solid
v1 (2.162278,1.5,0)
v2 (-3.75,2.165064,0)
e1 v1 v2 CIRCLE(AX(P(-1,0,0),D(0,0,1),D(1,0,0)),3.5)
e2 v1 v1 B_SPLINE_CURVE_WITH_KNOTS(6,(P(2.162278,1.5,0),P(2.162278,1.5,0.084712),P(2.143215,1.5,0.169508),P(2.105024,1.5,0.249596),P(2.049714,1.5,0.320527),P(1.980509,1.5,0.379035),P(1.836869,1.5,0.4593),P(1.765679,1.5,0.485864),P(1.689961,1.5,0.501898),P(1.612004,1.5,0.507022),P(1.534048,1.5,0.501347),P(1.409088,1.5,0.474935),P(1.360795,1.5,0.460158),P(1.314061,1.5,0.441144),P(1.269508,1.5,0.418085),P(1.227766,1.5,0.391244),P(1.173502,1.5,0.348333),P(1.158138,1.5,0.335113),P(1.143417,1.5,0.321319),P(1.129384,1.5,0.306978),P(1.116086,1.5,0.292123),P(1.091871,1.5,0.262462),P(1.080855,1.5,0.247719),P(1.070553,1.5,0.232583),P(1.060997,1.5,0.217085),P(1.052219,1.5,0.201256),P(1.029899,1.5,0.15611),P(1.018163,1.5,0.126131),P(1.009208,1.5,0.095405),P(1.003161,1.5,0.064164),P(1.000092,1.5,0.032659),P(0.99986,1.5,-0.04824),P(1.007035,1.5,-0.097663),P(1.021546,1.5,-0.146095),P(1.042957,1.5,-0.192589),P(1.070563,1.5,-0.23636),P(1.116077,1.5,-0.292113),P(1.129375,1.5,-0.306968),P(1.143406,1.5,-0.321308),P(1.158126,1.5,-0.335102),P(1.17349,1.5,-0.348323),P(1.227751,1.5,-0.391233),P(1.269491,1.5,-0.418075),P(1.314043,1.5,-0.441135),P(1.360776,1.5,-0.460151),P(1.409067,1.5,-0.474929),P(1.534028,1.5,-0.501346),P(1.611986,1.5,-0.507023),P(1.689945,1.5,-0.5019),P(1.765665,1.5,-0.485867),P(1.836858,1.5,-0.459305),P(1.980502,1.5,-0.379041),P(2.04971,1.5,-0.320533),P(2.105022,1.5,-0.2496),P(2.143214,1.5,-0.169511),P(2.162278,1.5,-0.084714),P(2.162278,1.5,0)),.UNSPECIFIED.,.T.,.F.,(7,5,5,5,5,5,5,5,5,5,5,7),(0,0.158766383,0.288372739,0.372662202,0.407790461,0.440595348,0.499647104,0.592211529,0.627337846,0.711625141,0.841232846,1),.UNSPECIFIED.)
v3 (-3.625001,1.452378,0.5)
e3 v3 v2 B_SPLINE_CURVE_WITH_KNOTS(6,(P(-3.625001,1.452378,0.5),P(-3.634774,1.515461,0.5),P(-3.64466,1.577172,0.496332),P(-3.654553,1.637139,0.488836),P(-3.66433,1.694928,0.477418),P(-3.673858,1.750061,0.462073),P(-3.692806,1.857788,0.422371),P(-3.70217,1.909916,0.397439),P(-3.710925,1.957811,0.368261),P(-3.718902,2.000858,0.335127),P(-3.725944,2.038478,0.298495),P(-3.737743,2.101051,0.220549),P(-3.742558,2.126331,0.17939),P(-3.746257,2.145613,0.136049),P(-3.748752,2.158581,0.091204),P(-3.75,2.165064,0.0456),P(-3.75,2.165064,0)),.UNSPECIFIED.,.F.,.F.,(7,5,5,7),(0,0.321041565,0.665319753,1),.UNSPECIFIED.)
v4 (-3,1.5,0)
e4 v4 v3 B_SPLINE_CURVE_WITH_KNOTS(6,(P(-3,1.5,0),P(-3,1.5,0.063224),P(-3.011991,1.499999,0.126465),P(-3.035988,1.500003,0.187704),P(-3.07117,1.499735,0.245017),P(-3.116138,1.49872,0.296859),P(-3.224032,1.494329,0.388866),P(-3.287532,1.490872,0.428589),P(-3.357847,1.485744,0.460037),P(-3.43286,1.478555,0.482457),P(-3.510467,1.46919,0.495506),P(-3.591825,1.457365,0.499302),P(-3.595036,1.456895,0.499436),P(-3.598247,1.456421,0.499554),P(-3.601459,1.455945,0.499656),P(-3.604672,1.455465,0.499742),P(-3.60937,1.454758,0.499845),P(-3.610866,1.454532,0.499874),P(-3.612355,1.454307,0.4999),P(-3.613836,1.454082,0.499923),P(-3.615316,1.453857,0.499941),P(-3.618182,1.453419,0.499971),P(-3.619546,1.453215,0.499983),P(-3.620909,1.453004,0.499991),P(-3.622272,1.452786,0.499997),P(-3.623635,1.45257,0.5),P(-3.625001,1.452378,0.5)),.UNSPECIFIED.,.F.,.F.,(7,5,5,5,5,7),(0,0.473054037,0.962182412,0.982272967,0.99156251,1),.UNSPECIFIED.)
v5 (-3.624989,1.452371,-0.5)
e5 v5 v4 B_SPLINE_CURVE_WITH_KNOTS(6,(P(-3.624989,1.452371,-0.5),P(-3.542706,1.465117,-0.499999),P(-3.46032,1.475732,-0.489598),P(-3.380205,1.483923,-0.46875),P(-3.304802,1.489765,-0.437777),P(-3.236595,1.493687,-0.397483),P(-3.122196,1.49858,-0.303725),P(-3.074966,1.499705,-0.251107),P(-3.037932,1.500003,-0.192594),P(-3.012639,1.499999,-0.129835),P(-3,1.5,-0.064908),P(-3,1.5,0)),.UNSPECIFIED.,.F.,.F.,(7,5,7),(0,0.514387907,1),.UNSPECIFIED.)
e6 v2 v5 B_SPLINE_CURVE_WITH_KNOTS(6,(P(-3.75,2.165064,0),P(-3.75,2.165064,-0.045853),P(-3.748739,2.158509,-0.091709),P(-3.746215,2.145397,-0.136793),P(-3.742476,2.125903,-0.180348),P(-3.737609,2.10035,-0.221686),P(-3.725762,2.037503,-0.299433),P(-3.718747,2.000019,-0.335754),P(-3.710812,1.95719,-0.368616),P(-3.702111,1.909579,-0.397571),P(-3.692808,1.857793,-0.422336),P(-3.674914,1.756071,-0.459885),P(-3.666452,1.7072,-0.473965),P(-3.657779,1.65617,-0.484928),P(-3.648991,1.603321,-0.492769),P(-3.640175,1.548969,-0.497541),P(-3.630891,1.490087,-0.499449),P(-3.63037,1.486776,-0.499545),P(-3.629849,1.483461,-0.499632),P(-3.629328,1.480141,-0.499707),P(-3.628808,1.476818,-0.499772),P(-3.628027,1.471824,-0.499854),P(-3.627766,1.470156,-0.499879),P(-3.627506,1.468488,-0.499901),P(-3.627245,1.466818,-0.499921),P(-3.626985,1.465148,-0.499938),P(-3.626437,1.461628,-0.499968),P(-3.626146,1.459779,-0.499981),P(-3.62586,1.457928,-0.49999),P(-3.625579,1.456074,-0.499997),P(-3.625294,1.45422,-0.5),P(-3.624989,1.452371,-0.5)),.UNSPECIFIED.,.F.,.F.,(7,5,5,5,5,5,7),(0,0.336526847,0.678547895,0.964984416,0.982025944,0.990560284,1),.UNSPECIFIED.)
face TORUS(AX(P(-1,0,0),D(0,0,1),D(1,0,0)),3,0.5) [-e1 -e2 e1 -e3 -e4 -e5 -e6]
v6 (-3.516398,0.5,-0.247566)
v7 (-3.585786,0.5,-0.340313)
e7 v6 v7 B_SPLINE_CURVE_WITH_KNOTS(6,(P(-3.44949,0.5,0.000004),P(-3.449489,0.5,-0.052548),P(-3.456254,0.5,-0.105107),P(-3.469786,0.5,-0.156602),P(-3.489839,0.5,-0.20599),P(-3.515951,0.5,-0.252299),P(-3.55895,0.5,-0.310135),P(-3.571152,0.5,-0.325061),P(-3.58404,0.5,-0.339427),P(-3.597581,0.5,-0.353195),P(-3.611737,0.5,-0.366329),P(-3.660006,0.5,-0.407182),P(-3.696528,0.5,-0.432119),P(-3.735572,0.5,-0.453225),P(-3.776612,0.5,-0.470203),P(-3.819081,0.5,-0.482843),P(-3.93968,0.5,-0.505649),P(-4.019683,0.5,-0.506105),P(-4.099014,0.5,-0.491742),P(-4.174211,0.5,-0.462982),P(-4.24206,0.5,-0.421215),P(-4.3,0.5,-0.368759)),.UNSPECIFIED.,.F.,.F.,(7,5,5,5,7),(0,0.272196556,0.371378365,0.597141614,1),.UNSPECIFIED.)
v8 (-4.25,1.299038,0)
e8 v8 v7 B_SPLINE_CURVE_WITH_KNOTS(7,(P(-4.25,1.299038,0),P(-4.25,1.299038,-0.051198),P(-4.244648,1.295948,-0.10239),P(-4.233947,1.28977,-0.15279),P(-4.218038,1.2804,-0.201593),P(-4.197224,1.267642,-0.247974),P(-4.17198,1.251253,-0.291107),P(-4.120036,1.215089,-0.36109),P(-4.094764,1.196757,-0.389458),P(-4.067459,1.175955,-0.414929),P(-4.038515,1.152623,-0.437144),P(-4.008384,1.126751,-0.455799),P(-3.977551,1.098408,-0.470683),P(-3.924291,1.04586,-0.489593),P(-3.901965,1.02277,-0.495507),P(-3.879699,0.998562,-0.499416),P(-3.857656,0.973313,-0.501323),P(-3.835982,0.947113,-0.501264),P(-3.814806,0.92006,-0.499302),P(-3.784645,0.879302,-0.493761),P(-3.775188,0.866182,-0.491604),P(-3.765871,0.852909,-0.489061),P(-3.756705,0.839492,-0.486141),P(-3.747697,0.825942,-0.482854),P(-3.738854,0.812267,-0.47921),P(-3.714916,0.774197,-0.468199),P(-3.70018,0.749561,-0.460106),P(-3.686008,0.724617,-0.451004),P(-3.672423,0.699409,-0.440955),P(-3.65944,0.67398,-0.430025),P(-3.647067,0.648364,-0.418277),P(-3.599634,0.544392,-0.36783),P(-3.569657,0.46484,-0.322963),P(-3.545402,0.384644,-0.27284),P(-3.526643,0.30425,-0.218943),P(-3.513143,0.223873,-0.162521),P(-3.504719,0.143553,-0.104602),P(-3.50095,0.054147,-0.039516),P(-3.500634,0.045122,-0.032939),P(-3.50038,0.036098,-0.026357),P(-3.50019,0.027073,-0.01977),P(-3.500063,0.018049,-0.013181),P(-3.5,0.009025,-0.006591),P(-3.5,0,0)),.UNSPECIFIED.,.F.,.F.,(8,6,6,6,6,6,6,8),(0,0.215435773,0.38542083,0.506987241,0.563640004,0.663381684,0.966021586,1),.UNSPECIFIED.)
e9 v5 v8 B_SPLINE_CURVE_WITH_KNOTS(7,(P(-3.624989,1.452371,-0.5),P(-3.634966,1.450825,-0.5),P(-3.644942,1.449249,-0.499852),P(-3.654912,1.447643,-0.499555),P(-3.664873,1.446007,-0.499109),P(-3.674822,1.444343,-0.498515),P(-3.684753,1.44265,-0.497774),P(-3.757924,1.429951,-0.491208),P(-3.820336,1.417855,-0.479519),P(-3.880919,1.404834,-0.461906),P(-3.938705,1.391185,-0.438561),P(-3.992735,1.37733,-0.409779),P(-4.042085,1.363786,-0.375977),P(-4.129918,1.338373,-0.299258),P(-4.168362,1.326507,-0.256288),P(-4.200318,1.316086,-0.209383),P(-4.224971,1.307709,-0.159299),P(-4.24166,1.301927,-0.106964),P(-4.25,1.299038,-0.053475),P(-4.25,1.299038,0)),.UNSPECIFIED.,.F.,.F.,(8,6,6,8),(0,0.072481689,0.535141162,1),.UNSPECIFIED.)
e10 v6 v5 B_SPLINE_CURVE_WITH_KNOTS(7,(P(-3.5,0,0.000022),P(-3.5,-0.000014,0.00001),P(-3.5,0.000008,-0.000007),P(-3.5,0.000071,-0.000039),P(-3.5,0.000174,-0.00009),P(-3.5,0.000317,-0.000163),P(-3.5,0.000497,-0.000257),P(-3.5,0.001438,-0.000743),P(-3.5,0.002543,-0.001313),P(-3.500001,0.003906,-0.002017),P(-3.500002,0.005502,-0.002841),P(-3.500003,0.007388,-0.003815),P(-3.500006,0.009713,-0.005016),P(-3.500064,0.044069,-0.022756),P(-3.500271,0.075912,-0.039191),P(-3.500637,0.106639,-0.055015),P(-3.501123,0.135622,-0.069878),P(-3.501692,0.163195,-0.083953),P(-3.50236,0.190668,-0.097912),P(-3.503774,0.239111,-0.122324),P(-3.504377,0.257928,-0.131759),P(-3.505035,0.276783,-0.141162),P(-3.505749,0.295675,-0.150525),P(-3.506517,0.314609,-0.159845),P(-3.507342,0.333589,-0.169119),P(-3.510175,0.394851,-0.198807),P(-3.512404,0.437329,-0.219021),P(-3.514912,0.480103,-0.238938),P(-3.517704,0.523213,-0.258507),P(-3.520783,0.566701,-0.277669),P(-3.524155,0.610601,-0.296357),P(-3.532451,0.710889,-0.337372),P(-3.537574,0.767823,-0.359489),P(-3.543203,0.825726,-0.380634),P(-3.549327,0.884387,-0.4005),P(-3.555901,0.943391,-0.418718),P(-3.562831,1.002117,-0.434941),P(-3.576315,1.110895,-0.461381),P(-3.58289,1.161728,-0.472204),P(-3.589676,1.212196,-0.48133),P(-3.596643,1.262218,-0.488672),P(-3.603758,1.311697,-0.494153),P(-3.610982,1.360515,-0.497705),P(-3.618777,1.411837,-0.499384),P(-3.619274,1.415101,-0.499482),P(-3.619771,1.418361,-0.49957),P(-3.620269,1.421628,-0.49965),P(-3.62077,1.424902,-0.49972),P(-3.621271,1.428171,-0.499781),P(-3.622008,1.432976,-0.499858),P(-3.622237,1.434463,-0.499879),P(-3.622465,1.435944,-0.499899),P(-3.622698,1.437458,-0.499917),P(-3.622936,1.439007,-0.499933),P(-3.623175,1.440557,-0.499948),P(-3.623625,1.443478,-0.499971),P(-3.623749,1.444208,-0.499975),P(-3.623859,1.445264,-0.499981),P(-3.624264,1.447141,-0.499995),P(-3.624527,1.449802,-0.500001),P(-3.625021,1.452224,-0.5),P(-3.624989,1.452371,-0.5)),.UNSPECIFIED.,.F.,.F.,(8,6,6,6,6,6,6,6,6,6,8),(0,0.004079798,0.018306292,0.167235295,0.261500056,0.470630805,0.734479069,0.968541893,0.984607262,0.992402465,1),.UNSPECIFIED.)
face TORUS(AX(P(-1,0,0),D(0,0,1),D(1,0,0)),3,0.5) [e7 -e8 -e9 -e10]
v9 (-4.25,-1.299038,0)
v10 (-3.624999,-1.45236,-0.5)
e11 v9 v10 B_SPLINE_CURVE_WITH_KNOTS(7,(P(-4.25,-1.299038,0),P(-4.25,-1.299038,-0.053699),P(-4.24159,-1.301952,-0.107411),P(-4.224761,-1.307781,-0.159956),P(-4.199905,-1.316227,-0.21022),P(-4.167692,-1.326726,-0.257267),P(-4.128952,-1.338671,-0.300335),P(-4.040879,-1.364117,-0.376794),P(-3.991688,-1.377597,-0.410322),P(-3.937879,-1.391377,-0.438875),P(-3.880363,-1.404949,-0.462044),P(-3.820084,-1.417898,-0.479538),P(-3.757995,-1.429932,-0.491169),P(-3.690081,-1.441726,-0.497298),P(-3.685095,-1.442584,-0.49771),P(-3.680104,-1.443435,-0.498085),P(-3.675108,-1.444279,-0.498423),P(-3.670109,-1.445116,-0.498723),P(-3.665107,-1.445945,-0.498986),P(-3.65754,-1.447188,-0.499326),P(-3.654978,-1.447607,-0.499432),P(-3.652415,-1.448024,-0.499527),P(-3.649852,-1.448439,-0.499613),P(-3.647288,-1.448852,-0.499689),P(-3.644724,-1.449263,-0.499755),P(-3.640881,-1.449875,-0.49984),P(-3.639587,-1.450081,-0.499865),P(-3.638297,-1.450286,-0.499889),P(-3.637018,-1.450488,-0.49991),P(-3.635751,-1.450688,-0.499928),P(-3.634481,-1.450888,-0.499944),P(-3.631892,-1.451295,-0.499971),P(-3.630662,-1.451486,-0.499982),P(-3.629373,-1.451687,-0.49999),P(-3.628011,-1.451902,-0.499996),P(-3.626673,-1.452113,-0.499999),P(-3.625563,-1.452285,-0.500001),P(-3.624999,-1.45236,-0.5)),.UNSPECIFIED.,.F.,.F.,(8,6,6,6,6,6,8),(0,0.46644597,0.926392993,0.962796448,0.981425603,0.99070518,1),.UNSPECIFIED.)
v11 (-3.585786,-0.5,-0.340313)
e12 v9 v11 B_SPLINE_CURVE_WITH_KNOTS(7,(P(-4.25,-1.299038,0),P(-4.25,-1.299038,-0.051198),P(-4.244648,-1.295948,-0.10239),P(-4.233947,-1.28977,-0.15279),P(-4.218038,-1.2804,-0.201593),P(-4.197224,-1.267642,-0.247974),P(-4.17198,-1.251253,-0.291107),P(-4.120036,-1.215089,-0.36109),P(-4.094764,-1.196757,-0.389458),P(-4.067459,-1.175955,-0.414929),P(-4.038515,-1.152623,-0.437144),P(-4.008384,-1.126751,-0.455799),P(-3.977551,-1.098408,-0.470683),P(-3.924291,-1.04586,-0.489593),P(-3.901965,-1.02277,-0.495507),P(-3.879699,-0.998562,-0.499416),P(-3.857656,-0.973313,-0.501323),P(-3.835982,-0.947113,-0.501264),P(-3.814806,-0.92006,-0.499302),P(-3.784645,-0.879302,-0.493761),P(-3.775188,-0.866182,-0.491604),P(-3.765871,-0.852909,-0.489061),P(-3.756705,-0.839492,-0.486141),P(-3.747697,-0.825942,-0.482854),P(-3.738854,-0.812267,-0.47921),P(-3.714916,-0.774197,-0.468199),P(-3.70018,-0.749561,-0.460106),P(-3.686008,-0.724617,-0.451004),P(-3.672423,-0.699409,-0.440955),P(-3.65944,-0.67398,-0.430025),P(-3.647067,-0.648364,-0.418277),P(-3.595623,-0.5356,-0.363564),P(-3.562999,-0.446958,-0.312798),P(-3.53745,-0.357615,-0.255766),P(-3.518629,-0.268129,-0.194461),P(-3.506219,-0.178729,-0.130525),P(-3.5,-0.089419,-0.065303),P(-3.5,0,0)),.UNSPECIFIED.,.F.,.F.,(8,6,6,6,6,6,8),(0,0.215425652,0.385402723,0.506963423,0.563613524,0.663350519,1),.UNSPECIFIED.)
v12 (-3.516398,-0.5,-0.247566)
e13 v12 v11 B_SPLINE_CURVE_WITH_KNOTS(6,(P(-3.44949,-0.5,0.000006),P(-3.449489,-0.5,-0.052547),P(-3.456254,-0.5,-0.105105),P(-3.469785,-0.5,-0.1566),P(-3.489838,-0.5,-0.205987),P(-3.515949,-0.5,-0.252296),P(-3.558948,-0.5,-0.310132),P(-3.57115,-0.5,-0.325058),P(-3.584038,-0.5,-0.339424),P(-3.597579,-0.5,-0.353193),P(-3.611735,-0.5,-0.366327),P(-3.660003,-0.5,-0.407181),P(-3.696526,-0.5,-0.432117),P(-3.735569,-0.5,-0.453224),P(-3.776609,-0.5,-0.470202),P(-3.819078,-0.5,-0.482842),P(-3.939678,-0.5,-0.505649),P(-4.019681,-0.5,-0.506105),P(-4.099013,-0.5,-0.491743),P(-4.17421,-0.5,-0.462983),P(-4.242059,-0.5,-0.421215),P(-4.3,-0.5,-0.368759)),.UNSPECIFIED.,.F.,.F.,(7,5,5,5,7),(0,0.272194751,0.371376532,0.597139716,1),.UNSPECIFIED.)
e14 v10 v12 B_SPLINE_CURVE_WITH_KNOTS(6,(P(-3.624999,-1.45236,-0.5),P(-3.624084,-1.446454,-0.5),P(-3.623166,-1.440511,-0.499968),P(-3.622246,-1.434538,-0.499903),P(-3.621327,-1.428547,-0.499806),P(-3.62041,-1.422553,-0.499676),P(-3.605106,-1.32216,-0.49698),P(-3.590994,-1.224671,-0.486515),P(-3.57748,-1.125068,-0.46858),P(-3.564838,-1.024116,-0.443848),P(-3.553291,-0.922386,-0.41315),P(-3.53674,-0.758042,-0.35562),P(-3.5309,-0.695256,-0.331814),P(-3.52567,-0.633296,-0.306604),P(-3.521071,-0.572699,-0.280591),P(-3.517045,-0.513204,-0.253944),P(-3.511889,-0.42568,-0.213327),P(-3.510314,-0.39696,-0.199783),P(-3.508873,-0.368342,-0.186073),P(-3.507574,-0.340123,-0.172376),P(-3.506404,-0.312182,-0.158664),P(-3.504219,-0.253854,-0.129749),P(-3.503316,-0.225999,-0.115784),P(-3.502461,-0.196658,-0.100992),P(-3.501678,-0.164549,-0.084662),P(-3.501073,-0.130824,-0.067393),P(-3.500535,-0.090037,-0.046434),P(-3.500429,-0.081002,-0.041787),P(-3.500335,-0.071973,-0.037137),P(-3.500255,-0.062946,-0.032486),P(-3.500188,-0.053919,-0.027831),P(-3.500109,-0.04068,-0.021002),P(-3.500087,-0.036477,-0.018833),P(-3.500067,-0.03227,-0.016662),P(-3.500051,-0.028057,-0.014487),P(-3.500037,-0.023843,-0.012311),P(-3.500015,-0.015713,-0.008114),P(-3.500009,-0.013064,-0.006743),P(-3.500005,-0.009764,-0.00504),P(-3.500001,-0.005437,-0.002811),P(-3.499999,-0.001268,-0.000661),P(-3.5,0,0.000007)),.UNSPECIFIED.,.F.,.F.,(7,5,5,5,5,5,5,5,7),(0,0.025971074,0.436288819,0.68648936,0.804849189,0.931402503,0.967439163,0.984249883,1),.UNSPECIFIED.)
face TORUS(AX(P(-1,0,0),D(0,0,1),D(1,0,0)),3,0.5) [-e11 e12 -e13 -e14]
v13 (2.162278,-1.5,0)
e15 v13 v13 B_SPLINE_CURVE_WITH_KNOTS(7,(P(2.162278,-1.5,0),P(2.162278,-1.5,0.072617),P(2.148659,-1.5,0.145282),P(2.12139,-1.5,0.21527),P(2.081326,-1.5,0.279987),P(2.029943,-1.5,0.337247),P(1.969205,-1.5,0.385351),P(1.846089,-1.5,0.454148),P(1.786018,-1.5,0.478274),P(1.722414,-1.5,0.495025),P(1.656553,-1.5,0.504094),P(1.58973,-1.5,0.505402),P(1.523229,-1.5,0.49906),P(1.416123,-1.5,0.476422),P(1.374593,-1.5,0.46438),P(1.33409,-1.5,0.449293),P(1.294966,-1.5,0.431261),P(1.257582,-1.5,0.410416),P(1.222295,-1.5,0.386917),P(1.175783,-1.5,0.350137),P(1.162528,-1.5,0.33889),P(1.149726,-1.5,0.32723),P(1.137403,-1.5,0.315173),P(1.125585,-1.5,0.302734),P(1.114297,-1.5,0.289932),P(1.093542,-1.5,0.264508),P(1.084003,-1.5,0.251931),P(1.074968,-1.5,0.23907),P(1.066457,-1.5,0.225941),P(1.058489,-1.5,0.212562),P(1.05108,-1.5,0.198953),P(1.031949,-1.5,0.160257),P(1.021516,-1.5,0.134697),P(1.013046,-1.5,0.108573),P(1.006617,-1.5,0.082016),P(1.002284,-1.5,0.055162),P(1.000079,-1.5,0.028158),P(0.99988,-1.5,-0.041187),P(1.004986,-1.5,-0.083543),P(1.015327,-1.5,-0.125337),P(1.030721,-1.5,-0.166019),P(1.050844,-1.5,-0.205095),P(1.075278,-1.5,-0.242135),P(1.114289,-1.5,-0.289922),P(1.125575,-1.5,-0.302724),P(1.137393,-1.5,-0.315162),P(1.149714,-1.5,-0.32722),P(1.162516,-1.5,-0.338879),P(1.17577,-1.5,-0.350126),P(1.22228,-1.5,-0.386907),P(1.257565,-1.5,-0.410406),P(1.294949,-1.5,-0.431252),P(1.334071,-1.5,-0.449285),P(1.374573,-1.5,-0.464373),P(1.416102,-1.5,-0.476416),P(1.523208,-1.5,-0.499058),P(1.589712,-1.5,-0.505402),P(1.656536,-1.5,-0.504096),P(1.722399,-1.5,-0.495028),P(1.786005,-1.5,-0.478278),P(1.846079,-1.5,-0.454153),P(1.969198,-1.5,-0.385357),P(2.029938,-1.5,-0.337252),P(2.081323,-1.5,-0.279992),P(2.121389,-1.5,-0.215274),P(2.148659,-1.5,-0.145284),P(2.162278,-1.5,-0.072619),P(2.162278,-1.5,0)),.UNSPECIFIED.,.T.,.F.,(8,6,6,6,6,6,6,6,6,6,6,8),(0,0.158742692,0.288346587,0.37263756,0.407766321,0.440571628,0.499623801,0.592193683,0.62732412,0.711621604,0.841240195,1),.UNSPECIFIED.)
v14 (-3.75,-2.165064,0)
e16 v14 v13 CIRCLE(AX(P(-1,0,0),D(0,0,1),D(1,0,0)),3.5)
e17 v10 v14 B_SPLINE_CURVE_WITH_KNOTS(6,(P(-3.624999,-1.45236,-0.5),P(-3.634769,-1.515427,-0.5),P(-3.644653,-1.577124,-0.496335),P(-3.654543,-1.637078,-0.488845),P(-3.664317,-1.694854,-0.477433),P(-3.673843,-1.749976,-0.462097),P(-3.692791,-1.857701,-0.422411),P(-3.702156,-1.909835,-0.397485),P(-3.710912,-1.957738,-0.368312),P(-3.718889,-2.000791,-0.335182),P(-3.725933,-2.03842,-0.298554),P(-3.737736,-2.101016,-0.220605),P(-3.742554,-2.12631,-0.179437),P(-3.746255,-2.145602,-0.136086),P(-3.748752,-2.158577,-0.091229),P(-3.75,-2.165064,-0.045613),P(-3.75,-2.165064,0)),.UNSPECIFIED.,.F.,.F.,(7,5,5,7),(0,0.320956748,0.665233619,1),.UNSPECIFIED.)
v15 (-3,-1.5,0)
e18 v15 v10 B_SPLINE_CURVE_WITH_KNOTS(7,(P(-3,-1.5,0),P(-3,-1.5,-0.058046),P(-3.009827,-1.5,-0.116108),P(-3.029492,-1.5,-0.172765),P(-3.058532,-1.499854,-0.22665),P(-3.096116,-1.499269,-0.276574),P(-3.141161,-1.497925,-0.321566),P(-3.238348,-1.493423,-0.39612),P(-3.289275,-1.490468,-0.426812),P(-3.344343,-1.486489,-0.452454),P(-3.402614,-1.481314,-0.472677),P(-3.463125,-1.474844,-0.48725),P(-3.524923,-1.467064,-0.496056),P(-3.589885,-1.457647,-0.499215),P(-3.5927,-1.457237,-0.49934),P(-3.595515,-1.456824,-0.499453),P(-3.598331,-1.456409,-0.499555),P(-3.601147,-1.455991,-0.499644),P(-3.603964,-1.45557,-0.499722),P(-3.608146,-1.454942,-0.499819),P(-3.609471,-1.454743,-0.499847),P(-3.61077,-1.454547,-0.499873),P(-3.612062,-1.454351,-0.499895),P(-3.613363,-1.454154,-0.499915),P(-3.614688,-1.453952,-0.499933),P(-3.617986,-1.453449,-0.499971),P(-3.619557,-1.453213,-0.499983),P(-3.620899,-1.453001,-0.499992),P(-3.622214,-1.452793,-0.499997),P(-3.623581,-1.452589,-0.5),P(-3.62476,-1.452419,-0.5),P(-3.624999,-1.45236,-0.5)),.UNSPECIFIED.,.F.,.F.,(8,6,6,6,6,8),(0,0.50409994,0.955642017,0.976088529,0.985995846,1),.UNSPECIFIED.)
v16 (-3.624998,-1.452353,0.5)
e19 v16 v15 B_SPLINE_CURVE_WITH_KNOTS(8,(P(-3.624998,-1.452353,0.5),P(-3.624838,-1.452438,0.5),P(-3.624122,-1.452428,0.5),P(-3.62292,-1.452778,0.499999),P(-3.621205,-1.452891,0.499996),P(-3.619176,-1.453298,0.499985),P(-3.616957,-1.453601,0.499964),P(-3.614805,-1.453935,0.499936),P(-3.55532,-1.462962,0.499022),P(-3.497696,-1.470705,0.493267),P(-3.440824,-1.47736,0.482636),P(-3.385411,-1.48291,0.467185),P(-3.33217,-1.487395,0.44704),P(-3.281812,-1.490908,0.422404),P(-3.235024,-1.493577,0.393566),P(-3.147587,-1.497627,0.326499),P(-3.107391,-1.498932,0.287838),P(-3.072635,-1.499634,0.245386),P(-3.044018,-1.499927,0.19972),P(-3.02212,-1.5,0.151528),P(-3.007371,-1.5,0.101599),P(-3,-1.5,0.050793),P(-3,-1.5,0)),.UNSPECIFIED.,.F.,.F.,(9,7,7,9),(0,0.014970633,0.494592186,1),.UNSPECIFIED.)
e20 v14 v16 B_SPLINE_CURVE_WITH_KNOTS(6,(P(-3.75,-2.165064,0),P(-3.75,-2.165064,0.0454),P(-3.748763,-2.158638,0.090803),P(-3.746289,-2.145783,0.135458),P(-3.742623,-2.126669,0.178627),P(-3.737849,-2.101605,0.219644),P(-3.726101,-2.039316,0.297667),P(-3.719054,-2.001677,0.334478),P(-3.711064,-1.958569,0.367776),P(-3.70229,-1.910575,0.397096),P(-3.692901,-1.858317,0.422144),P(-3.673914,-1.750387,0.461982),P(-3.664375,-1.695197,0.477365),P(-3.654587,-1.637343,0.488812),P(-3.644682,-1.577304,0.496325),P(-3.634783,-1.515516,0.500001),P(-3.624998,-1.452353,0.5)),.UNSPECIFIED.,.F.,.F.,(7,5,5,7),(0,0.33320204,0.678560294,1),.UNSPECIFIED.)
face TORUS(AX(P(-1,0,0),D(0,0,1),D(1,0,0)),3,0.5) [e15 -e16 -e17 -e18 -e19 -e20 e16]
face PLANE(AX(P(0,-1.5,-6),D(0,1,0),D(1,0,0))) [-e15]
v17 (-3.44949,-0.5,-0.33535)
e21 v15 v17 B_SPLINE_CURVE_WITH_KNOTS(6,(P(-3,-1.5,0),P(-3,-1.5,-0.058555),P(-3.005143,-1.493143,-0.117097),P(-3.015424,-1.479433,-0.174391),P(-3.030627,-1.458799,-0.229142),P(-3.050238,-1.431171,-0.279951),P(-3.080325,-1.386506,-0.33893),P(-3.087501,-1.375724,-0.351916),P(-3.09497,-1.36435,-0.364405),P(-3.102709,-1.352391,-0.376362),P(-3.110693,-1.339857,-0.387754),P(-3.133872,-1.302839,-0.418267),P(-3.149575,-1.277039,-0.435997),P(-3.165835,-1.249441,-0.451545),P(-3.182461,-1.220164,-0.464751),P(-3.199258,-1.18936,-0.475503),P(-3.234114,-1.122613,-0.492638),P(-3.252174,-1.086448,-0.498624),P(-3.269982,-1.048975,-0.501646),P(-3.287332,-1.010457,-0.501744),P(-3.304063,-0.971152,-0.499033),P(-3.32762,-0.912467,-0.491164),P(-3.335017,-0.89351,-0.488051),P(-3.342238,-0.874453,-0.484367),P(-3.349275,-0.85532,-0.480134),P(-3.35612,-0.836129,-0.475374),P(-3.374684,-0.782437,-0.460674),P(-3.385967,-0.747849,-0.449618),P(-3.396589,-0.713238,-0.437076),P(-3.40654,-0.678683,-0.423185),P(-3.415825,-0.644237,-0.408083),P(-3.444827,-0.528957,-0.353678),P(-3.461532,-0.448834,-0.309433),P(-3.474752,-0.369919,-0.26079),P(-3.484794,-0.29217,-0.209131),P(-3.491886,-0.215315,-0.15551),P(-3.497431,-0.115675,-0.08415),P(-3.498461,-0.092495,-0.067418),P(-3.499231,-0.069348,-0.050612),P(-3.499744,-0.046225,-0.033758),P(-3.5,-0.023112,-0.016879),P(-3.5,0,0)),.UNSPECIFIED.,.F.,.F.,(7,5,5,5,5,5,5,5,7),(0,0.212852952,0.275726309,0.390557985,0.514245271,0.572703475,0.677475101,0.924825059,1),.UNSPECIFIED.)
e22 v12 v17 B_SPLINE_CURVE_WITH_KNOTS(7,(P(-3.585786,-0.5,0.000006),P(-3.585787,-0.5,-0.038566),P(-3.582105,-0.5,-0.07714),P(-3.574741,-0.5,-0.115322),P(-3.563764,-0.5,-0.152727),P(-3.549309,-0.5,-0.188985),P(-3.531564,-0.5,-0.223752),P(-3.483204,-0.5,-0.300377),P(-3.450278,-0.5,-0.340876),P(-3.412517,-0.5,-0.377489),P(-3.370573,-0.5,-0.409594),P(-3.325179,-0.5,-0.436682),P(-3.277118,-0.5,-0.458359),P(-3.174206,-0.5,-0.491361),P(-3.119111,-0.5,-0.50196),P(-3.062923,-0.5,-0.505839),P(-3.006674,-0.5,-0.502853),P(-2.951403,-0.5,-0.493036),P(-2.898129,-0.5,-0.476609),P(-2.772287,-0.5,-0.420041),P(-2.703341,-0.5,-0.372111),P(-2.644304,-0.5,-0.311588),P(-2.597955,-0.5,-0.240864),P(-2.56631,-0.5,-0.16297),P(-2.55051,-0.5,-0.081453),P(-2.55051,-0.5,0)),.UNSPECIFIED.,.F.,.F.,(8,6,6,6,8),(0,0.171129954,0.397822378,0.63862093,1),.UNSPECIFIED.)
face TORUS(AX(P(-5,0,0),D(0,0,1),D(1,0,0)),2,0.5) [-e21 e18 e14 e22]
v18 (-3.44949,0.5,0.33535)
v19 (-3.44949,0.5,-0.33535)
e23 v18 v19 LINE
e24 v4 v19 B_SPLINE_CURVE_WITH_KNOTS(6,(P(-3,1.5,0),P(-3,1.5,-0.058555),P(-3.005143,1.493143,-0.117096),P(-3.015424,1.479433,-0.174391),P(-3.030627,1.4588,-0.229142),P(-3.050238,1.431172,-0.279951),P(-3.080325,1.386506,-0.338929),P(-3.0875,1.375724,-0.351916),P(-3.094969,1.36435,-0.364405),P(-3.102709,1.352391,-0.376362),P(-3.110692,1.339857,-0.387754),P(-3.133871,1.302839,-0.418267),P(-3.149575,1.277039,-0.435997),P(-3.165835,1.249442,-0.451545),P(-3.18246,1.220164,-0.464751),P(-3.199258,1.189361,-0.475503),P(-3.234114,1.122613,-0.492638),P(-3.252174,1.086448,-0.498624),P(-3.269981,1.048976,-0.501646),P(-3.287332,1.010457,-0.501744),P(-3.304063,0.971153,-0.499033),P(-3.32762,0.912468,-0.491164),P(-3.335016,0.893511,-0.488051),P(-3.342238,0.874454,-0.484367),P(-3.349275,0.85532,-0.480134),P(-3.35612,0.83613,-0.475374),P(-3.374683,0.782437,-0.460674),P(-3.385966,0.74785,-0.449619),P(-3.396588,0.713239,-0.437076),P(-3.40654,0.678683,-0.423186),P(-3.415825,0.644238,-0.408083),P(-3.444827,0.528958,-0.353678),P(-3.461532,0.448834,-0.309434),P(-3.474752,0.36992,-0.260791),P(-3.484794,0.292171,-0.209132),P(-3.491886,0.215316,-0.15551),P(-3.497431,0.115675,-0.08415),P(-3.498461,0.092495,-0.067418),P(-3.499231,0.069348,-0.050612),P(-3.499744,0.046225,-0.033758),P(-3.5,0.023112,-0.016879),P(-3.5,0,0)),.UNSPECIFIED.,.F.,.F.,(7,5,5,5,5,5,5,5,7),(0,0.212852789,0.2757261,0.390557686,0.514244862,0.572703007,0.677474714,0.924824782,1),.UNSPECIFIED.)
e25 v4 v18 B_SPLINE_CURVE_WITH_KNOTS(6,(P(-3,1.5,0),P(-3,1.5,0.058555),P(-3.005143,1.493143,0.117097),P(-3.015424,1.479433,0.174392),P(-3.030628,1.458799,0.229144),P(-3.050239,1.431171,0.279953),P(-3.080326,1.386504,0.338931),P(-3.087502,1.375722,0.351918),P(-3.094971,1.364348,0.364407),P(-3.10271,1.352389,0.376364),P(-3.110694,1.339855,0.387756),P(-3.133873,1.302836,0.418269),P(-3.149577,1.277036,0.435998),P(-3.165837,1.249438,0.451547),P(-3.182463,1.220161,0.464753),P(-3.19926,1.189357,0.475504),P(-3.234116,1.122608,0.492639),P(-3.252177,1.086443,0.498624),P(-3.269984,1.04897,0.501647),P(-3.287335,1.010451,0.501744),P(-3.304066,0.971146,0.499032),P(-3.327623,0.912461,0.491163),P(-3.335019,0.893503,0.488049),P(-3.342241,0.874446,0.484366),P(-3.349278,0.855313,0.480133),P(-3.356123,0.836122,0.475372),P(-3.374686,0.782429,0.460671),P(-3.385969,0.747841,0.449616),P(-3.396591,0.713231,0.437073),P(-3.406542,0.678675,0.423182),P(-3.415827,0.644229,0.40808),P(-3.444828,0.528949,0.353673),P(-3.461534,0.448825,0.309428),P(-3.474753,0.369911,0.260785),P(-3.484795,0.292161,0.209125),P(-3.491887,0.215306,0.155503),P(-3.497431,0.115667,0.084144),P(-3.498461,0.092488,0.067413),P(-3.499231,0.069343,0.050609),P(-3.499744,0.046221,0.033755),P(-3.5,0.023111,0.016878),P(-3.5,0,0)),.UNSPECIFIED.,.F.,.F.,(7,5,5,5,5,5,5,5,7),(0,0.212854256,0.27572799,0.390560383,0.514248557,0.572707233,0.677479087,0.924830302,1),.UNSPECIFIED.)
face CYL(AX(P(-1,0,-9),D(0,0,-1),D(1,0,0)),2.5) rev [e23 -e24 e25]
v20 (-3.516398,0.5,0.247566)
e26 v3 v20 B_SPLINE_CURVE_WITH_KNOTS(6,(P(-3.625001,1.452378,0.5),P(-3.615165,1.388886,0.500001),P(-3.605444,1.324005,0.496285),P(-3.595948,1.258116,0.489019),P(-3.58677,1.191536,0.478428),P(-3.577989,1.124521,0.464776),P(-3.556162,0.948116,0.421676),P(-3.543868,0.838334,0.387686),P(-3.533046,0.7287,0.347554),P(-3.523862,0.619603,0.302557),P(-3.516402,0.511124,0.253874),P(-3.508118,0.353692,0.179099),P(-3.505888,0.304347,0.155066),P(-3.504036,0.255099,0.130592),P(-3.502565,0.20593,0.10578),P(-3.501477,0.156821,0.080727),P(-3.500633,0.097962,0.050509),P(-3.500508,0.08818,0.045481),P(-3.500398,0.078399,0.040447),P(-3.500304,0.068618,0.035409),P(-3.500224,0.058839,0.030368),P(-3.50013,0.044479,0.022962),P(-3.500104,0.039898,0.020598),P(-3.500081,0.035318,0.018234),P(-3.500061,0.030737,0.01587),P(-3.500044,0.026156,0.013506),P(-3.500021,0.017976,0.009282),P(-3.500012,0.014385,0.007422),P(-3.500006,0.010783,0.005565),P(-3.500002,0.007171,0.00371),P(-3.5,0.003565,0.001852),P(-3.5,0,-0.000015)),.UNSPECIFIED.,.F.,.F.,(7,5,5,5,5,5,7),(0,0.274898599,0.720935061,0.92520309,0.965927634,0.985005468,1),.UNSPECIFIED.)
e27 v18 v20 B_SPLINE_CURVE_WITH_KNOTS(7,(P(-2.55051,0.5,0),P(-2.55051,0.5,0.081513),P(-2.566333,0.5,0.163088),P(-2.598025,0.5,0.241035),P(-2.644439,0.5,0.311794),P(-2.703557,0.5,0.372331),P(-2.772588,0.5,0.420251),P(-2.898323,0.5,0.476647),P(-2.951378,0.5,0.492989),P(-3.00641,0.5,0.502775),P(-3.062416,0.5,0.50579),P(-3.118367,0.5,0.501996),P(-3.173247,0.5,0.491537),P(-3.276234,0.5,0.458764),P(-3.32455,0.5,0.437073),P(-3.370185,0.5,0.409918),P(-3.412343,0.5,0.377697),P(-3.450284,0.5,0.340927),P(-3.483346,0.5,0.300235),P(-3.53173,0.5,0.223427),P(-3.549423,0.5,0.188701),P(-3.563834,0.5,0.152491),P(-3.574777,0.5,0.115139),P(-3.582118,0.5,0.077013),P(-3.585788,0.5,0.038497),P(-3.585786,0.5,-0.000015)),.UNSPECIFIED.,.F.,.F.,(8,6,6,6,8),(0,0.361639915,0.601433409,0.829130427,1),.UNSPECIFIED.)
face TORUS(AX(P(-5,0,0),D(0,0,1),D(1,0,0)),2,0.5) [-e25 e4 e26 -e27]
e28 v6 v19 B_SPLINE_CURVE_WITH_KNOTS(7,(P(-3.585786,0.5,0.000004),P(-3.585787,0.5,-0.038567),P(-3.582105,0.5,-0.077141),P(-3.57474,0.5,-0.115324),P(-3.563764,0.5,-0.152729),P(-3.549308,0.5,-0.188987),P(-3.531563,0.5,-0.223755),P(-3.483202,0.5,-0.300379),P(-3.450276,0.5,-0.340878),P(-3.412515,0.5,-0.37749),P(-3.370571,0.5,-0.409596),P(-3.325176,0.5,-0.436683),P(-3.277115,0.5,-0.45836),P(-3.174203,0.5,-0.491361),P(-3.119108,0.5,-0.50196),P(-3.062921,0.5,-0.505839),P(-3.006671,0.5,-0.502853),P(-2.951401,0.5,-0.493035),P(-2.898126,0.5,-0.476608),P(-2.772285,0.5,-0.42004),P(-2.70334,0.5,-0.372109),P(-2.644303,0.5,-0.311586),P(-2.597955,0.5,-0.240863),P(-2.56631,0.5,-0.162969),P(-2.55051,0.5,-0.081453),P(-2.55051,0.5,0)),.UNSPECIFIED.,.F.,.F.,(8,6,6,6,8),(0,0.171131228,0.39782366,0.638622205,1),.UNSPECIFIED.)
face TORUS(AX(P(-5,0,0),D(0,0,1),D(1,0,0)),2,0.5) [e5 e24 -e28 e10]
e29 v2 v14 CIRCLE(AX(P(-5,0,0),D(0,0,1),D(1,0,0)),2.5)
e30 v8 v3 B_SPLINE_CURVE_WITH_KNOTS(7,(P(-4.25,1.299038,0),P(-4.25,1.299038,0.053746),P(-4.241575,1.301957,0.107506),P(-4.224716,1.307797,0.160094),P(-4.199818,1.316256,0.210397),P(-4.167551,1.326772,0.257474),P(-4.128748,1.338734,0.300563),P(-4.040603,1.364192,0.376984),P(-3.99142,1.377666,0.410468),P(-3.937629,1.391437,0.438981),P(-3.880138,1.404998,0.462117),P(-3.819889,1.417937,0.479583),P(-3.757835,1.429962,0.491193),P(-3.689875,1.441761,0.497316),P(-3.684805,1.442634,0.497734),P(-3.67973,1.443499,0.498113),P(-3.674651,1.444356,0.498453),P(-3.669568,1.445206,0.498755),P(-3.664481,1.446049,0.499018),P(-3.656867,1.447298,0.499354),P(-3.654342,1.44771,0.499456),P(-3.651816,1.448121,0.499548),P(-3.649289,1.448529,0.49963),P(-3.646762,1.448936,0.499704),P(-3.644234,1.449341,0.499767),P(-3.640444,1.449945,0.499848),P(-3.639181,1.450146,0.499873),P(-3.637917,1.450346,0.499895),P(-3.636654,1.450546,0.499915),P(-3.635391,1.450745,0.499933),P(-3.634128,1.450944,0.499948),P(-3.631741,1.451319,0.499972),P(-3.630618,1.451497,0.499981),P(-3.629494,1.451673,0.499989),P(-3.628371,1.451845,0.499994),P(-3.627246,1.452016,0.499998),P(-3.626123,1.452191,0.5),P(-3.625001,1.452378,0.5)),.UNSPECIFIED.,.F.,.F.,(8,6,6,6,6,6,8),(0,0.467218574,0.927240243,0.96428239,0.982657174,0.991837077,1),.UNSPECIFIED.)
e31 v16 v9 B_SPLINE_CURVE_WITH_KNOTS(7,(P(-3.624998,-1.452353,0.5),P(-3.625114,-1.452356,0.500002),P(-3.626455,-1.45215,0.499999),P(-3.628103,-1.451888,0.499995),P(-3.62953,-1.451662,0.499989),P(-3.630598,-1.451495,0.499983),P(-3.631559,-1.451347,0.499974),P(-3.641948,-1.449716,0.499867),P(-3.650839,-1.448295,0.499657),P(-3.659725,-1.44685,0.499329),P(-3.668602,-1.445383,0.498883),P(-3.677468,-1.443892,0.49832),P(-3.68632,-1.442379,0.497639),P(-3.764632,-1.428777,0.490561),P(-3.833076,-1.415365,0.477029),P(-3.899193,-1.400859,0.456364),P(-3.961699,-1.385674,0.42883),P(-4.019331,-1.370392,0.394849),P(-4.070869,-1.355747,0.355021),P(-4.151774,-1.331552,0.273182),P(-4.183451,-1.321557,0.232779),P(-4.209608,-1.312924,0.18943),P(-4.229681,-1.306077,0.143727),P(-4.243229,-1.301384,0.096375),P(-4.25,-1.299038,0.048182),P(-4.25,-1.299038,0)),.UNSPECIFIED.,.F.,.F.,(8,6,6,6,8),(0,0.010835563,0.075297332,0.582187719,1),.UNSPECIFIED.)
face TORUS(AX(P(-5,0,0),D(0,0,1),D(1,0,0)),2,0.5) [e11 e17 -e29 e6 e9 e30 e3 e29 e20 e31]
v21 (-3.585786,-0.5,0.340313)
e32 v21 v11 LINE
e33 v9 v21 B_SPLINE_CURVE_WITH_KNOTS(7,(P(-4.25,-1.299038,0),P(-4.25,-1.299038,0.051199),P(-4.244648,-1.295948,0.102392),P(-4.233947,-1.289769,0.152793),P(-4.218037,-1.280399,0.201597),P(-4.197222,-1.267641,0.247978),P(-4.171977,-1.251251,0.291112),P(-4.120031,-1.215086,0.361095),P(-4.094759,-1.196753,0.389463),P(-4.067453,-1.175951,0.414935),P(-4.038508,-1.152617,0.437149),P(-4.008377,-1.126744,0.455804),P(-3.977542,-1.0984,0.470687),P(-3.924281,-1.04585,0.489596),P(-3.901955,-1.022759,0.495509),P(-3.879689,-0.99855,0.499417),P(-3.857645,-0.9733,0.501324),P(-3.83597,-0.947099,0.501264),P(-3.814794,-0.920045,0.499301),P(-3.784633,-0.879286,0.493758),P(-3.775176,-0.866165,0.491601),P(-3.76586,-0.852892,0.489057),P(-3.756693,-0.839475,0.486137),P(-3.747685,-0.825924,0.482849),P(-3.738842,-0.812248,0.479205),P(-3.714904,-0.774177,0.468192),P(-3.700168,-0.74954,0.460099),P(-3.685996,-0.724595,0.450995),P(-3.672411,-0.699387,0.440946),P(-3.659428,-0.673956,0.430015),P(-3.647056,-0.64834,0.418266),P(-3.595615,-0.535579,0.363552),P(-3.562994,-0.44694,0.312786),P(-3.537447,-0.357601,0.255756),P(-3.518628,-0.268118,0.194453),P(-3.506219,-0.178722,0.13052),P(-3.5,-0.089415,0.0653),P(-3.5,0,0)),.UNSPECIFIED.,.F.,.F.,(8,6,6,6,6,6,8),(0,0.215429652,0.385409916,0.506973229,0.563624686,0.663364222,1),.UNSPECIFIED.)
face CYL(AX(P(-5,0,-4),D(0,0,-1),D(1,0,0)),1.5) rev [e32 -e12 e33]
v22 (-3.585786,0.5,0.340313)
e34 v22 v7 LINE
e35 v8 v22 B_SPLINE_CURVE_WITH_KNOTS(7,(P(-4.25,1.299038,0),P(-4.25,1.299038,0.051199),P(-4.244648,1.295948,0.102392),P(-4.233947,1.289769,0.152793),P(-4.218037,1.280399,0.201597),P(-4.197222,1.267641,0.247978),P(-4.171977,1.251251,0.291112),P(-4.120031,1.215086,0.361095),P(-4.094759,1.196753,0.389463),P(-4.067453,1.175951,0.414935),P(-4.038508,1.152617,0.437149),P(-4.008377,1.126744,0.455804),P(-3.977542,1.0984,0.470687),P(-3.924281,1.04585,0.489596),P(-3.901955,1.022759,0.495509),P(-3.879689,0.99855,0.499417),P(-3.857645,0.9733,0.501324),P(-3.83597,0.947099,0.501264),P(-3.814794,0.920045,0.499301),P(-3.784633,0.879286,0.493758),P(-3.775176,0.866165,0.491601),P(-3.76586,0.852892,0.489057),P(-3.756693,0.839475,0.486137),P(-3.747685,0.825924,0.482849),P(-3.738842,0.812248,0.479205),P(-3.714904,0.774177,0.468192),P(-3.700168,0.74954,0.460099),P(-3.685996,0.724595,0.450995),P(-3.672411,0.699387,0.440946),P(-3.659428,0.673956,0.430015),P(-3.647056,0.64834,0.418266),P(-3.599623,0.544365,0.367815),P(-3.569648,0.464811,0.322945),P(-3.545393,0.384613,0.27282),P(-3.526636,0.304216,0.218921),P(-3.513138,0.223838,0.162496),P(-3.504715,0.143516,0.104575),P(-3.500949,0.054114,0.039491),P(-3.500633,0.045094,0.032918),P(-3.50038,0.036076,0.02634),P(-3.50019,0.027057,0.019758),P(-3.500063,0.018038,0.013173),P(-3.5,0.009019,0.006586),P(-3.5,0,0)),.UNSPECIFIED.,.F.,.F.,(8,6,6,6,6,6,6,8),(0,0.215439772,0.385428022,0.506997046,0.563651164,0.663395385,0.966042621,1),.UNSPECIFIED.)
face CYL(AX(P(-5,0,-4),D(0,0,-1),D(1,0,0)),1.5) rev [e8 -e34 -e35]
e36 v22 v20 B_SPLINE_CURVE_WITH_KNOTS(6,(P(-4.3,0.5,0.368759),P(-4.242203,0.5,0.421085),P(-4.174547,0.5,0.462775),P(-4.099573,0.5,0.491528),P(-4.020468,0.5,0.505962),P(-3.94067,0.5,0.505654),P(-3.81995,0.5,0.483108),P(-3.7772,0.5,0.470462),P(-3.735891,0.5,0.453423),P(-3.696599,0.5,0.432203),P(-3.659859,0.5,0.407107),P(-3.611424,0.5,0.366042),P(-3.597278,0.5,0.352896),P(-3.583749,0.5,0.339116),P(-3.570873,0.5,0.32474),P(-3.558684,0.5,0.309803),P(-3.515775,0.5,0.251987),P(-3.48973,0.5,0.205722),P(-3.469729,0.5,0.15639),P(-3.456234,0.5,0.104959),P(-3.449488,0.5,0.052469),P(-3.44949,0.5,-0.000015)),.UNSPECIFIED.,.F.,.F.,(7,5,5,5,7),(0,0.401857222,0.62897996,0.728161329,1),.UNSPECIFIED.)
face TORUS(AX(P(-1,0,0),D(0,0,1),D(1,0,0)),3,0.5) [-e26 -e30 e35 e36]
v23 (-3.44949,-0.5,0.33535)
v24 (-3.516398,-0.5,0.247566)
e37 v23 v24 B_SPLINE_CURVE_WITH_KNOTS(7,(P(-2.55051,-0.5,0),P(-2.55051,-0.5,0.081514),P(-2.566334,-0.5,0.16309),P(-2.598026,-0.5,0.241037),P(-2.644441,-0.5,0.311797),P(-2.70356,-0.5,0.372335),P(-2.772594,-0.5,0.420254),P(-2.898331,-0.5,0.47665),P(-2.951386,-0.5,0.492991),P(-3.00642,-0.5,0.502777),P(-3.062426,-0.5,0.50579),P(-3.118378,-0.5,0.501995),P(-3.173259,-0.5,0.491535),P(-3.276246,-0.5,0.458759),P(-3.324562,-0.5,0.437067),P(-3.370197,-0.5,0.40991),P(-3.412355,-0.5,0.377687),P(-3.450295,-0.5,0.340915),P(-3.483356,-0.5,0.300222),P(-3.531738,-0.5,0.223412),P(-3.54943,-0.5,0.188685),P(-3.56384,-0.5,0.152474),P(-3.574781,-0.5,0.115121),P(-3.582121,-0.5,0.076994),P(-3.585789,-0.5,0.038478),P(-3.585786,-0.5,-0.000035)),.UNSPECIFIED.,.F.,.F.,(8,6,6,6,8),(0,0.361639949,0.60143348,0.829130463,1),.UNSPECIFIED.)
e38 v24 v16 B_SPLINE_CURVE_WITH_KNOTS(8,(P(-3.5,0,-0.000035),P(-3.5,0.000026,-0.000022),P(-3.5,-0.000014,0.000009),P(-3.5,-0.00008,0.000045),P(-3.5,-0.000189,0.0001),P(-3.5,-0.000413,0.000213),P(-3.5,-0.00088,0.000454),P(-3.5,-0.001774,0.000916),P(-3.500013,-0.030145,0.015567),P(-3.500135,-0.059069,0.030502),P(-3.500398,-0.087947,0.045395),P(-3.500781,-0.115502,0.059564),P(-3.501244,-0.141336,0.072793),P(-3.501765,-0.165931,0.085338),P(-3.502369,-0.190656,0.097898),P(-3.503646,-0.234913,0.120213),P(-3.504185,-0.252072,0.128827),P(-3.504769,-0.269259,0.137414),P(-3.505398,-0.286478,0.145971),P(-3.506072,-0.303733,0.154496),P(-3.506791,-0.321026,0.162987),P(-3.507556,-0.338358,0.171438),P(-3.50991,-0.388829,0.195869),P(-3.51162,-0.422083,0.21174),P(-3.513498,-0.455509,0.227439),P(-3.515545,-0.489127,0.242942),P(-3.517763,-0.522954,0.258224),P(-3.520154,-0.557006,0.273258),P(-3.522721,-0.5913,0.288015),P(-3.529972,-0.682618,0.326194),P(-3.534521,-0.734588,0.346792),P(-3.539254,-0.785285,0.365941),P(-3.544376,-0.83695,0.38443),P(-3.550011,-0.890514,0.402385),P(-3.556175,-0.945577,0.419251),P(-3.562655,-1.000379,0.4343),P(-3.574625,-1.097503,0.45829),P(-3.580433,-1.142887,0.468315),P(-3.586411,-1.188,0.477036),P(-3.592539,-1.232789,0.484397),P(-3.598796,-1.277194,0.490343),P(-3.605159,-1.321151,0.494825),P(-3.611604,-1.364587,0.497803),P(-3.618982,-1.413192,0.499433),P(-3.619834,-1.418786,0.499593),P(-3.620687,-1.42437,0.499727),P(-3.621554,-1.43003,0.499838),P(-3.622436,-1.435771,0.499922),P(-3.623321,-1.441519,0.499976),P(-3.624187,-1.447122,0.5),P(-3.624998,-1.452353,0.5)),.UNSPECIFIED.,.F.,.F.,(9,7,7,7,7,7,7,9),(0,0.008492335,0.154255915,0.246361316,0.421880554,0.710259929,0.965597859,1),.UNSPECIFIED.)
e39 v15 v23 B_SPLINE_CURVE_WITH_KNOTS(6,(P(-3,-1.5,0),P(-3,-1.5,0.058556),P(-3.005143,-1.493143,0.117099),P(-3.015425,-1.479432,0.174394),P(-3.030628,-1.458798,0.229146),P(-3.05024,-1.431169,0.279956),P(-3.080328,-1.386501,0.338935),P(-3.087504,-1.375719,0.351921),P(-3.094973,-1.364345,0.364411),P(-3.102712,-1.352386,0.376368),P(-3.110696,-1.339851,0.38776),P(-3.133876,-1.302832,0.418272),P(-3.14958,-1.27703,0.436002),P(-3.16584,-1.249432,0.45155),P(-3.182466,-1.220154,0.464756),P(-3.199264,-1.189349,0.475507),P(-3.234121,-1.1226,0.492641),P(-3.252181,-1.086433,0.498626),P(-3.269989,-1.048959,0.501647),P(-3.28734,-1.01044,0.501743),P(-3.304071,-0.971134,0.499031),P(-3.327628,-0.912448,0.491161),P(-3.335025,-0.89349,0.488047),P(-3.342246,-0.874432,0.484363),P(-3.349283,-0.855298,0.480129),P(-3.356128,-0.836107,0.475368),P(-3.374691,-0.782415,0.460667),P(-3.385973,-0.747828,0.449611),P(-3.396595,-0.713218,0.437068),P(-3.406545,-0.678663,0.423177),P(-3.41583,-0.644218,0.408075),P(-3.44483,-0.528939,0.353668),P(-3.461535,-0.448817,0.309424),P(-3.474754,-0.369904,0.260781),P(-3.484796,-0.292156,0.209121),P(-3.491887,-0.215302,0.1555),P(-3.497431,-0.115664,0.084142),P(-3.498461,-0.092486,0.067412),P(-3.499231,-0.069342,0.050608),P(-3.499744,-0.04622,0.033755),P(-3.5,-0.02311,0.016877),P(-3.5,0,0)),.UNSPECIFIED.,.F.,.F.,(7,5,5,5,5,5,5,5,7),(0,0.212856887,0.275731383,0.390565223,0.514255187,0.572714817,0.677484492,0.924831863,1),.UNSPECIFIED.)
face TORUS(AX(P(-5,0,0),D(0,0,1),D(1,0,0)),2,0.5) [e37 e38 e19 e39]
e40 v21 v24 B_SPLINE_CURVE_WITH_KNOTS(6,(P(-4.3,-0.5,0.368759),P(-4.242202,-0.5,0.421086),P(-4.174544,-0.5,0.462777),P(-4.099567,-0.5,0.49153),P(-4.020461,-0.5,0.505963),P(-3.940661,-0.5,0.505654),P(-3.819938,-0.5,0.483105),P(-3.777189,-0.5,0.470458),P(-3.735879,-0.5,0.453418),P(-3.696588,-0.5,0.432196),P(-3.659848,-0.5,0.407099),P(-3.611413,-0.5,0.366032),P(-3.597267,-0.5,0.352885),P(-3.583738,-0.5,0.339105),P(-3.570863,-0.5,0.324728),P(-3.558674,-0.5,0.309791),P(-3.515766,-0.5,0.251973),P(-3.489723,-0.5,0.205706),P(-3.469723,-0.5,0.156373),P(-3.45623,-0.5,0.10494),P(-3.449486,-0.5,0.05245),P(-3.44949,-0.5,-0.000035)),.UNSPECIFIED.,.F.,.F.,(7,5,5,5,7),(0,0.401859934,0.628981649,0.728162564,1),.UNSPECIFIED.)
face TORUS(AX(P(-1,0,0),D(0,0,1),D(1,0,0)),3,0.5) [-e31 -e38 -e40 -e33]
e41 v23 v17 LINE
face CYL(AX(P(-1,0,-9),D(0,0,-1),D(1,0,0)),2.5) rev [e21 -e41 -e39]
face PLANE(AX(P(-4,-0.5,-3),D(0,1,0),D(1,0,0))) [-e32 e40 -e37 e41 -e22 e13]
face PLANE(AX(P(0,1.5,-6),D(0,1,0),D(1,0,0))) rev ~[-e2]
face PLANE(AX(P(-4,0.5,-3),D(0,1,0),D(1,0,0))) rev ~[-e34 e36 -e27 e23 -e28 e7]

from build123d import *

# Parameters (mm, degrees)
BOX001_W          = 4
BOX001_H          = 3
BOX001_DEPTH      = 10
BOX_W             = 3
BOX_H             = 1
BOX_DEPTH         = 5
CYLINDER001_R     = 2.5
CYLINDER001_DEPTH = 10
CYLINDER_R        = 1.5
CYLINDER_DEPTH    = 10
TORUS_R           = 0.5
TORUS001_R        = 0.5


with BuildPart() as cubo001:
    # Box001 → Box001 (new body)
    with BuildSketch(Plane(origin=(0, -1.5, -6), x_dir=(1, 0, 0), z_dir=(0, 0, 1))):
        with Locations((2, 1.5)):
            Rectangle(BOX001_W, BOX001_H)
    extrude(amount=BOX001_DEPTH)


with BuildPart() as cubo:
    # Box → Box (new body)
    with BuildSketch(Plane(origin=(-4, -0.5, -3), x_dir=(1, 0, 0), z_dir=(0, 0, 1))):
        with Locations((1.5, 0.5)):
            Rectangle(BOX_W, BOX_H)
    extrude(amount=BOX_DEPTH)


with BuildPart() as cilindro001:
    # Cylinder001 → Cylinder001 (new body)
    with BuildSketch(Plane(origin=(-1, 0, -9), x_dir=(1, 0, 0), z_dir=(0, 0, 1))):
        Circle(CYLINDER001_R)
    extrude(amount=CYLINDER001_DEPTH)


with BuildPart() as cilindro:
    # Cylinder → Cylinder (new body)
    with BuildSketch(Plane(origin=(-5, 0, -4), x_dir=(1, 0, 0), z_dir=(0, 0, 1))):
        Circle(CYLINDER_R)
    extrude(amount=CYLINDER_DEPTH)


with BuildPart() as toro:
    # Torus → Torus (revolve)
    with BuildSketch(Plane(origin=(-1, 0, 0), x_dir=(1, 0, 0), z_dir=(0, -1, 0))):
        with Locations((3, 0)):
            Circle(TORUS_R)
    revolve(axis=Axis((-1, 0, 0), (0, 0, 1)))


with BuildPart() as cut003:
    # Torus001 → Torus001 (revolve)
    with BuildSketch(Plane(origin=(-5, 0, 0), x_dir=(1, 0, 0), z_dir=(0, -1, 0))):
        with Locations((2, 0)):
            Circle(TORUS001_R)
    revolve(axis=Axis((-5, 0, 0), (0, 0, 1)))

    # Fusion: union Toro
    add(toro.part)

    # Cut: cut Cilindro
    add(cilindro.part, mode=Mode.SUBTRACT)

    # Cut001: cut Cilindro001
    add(cilindro001.part, mode=Mode.SUBTRACT)

    # Cut002: cut Cubo
    add(cubo.part, mode=Mode.SUBTRACT)

    # Cut003: cut Cubo001
    add(cubo001.part, mode=Mode.SUBTRACT)


solid = cut003.part
